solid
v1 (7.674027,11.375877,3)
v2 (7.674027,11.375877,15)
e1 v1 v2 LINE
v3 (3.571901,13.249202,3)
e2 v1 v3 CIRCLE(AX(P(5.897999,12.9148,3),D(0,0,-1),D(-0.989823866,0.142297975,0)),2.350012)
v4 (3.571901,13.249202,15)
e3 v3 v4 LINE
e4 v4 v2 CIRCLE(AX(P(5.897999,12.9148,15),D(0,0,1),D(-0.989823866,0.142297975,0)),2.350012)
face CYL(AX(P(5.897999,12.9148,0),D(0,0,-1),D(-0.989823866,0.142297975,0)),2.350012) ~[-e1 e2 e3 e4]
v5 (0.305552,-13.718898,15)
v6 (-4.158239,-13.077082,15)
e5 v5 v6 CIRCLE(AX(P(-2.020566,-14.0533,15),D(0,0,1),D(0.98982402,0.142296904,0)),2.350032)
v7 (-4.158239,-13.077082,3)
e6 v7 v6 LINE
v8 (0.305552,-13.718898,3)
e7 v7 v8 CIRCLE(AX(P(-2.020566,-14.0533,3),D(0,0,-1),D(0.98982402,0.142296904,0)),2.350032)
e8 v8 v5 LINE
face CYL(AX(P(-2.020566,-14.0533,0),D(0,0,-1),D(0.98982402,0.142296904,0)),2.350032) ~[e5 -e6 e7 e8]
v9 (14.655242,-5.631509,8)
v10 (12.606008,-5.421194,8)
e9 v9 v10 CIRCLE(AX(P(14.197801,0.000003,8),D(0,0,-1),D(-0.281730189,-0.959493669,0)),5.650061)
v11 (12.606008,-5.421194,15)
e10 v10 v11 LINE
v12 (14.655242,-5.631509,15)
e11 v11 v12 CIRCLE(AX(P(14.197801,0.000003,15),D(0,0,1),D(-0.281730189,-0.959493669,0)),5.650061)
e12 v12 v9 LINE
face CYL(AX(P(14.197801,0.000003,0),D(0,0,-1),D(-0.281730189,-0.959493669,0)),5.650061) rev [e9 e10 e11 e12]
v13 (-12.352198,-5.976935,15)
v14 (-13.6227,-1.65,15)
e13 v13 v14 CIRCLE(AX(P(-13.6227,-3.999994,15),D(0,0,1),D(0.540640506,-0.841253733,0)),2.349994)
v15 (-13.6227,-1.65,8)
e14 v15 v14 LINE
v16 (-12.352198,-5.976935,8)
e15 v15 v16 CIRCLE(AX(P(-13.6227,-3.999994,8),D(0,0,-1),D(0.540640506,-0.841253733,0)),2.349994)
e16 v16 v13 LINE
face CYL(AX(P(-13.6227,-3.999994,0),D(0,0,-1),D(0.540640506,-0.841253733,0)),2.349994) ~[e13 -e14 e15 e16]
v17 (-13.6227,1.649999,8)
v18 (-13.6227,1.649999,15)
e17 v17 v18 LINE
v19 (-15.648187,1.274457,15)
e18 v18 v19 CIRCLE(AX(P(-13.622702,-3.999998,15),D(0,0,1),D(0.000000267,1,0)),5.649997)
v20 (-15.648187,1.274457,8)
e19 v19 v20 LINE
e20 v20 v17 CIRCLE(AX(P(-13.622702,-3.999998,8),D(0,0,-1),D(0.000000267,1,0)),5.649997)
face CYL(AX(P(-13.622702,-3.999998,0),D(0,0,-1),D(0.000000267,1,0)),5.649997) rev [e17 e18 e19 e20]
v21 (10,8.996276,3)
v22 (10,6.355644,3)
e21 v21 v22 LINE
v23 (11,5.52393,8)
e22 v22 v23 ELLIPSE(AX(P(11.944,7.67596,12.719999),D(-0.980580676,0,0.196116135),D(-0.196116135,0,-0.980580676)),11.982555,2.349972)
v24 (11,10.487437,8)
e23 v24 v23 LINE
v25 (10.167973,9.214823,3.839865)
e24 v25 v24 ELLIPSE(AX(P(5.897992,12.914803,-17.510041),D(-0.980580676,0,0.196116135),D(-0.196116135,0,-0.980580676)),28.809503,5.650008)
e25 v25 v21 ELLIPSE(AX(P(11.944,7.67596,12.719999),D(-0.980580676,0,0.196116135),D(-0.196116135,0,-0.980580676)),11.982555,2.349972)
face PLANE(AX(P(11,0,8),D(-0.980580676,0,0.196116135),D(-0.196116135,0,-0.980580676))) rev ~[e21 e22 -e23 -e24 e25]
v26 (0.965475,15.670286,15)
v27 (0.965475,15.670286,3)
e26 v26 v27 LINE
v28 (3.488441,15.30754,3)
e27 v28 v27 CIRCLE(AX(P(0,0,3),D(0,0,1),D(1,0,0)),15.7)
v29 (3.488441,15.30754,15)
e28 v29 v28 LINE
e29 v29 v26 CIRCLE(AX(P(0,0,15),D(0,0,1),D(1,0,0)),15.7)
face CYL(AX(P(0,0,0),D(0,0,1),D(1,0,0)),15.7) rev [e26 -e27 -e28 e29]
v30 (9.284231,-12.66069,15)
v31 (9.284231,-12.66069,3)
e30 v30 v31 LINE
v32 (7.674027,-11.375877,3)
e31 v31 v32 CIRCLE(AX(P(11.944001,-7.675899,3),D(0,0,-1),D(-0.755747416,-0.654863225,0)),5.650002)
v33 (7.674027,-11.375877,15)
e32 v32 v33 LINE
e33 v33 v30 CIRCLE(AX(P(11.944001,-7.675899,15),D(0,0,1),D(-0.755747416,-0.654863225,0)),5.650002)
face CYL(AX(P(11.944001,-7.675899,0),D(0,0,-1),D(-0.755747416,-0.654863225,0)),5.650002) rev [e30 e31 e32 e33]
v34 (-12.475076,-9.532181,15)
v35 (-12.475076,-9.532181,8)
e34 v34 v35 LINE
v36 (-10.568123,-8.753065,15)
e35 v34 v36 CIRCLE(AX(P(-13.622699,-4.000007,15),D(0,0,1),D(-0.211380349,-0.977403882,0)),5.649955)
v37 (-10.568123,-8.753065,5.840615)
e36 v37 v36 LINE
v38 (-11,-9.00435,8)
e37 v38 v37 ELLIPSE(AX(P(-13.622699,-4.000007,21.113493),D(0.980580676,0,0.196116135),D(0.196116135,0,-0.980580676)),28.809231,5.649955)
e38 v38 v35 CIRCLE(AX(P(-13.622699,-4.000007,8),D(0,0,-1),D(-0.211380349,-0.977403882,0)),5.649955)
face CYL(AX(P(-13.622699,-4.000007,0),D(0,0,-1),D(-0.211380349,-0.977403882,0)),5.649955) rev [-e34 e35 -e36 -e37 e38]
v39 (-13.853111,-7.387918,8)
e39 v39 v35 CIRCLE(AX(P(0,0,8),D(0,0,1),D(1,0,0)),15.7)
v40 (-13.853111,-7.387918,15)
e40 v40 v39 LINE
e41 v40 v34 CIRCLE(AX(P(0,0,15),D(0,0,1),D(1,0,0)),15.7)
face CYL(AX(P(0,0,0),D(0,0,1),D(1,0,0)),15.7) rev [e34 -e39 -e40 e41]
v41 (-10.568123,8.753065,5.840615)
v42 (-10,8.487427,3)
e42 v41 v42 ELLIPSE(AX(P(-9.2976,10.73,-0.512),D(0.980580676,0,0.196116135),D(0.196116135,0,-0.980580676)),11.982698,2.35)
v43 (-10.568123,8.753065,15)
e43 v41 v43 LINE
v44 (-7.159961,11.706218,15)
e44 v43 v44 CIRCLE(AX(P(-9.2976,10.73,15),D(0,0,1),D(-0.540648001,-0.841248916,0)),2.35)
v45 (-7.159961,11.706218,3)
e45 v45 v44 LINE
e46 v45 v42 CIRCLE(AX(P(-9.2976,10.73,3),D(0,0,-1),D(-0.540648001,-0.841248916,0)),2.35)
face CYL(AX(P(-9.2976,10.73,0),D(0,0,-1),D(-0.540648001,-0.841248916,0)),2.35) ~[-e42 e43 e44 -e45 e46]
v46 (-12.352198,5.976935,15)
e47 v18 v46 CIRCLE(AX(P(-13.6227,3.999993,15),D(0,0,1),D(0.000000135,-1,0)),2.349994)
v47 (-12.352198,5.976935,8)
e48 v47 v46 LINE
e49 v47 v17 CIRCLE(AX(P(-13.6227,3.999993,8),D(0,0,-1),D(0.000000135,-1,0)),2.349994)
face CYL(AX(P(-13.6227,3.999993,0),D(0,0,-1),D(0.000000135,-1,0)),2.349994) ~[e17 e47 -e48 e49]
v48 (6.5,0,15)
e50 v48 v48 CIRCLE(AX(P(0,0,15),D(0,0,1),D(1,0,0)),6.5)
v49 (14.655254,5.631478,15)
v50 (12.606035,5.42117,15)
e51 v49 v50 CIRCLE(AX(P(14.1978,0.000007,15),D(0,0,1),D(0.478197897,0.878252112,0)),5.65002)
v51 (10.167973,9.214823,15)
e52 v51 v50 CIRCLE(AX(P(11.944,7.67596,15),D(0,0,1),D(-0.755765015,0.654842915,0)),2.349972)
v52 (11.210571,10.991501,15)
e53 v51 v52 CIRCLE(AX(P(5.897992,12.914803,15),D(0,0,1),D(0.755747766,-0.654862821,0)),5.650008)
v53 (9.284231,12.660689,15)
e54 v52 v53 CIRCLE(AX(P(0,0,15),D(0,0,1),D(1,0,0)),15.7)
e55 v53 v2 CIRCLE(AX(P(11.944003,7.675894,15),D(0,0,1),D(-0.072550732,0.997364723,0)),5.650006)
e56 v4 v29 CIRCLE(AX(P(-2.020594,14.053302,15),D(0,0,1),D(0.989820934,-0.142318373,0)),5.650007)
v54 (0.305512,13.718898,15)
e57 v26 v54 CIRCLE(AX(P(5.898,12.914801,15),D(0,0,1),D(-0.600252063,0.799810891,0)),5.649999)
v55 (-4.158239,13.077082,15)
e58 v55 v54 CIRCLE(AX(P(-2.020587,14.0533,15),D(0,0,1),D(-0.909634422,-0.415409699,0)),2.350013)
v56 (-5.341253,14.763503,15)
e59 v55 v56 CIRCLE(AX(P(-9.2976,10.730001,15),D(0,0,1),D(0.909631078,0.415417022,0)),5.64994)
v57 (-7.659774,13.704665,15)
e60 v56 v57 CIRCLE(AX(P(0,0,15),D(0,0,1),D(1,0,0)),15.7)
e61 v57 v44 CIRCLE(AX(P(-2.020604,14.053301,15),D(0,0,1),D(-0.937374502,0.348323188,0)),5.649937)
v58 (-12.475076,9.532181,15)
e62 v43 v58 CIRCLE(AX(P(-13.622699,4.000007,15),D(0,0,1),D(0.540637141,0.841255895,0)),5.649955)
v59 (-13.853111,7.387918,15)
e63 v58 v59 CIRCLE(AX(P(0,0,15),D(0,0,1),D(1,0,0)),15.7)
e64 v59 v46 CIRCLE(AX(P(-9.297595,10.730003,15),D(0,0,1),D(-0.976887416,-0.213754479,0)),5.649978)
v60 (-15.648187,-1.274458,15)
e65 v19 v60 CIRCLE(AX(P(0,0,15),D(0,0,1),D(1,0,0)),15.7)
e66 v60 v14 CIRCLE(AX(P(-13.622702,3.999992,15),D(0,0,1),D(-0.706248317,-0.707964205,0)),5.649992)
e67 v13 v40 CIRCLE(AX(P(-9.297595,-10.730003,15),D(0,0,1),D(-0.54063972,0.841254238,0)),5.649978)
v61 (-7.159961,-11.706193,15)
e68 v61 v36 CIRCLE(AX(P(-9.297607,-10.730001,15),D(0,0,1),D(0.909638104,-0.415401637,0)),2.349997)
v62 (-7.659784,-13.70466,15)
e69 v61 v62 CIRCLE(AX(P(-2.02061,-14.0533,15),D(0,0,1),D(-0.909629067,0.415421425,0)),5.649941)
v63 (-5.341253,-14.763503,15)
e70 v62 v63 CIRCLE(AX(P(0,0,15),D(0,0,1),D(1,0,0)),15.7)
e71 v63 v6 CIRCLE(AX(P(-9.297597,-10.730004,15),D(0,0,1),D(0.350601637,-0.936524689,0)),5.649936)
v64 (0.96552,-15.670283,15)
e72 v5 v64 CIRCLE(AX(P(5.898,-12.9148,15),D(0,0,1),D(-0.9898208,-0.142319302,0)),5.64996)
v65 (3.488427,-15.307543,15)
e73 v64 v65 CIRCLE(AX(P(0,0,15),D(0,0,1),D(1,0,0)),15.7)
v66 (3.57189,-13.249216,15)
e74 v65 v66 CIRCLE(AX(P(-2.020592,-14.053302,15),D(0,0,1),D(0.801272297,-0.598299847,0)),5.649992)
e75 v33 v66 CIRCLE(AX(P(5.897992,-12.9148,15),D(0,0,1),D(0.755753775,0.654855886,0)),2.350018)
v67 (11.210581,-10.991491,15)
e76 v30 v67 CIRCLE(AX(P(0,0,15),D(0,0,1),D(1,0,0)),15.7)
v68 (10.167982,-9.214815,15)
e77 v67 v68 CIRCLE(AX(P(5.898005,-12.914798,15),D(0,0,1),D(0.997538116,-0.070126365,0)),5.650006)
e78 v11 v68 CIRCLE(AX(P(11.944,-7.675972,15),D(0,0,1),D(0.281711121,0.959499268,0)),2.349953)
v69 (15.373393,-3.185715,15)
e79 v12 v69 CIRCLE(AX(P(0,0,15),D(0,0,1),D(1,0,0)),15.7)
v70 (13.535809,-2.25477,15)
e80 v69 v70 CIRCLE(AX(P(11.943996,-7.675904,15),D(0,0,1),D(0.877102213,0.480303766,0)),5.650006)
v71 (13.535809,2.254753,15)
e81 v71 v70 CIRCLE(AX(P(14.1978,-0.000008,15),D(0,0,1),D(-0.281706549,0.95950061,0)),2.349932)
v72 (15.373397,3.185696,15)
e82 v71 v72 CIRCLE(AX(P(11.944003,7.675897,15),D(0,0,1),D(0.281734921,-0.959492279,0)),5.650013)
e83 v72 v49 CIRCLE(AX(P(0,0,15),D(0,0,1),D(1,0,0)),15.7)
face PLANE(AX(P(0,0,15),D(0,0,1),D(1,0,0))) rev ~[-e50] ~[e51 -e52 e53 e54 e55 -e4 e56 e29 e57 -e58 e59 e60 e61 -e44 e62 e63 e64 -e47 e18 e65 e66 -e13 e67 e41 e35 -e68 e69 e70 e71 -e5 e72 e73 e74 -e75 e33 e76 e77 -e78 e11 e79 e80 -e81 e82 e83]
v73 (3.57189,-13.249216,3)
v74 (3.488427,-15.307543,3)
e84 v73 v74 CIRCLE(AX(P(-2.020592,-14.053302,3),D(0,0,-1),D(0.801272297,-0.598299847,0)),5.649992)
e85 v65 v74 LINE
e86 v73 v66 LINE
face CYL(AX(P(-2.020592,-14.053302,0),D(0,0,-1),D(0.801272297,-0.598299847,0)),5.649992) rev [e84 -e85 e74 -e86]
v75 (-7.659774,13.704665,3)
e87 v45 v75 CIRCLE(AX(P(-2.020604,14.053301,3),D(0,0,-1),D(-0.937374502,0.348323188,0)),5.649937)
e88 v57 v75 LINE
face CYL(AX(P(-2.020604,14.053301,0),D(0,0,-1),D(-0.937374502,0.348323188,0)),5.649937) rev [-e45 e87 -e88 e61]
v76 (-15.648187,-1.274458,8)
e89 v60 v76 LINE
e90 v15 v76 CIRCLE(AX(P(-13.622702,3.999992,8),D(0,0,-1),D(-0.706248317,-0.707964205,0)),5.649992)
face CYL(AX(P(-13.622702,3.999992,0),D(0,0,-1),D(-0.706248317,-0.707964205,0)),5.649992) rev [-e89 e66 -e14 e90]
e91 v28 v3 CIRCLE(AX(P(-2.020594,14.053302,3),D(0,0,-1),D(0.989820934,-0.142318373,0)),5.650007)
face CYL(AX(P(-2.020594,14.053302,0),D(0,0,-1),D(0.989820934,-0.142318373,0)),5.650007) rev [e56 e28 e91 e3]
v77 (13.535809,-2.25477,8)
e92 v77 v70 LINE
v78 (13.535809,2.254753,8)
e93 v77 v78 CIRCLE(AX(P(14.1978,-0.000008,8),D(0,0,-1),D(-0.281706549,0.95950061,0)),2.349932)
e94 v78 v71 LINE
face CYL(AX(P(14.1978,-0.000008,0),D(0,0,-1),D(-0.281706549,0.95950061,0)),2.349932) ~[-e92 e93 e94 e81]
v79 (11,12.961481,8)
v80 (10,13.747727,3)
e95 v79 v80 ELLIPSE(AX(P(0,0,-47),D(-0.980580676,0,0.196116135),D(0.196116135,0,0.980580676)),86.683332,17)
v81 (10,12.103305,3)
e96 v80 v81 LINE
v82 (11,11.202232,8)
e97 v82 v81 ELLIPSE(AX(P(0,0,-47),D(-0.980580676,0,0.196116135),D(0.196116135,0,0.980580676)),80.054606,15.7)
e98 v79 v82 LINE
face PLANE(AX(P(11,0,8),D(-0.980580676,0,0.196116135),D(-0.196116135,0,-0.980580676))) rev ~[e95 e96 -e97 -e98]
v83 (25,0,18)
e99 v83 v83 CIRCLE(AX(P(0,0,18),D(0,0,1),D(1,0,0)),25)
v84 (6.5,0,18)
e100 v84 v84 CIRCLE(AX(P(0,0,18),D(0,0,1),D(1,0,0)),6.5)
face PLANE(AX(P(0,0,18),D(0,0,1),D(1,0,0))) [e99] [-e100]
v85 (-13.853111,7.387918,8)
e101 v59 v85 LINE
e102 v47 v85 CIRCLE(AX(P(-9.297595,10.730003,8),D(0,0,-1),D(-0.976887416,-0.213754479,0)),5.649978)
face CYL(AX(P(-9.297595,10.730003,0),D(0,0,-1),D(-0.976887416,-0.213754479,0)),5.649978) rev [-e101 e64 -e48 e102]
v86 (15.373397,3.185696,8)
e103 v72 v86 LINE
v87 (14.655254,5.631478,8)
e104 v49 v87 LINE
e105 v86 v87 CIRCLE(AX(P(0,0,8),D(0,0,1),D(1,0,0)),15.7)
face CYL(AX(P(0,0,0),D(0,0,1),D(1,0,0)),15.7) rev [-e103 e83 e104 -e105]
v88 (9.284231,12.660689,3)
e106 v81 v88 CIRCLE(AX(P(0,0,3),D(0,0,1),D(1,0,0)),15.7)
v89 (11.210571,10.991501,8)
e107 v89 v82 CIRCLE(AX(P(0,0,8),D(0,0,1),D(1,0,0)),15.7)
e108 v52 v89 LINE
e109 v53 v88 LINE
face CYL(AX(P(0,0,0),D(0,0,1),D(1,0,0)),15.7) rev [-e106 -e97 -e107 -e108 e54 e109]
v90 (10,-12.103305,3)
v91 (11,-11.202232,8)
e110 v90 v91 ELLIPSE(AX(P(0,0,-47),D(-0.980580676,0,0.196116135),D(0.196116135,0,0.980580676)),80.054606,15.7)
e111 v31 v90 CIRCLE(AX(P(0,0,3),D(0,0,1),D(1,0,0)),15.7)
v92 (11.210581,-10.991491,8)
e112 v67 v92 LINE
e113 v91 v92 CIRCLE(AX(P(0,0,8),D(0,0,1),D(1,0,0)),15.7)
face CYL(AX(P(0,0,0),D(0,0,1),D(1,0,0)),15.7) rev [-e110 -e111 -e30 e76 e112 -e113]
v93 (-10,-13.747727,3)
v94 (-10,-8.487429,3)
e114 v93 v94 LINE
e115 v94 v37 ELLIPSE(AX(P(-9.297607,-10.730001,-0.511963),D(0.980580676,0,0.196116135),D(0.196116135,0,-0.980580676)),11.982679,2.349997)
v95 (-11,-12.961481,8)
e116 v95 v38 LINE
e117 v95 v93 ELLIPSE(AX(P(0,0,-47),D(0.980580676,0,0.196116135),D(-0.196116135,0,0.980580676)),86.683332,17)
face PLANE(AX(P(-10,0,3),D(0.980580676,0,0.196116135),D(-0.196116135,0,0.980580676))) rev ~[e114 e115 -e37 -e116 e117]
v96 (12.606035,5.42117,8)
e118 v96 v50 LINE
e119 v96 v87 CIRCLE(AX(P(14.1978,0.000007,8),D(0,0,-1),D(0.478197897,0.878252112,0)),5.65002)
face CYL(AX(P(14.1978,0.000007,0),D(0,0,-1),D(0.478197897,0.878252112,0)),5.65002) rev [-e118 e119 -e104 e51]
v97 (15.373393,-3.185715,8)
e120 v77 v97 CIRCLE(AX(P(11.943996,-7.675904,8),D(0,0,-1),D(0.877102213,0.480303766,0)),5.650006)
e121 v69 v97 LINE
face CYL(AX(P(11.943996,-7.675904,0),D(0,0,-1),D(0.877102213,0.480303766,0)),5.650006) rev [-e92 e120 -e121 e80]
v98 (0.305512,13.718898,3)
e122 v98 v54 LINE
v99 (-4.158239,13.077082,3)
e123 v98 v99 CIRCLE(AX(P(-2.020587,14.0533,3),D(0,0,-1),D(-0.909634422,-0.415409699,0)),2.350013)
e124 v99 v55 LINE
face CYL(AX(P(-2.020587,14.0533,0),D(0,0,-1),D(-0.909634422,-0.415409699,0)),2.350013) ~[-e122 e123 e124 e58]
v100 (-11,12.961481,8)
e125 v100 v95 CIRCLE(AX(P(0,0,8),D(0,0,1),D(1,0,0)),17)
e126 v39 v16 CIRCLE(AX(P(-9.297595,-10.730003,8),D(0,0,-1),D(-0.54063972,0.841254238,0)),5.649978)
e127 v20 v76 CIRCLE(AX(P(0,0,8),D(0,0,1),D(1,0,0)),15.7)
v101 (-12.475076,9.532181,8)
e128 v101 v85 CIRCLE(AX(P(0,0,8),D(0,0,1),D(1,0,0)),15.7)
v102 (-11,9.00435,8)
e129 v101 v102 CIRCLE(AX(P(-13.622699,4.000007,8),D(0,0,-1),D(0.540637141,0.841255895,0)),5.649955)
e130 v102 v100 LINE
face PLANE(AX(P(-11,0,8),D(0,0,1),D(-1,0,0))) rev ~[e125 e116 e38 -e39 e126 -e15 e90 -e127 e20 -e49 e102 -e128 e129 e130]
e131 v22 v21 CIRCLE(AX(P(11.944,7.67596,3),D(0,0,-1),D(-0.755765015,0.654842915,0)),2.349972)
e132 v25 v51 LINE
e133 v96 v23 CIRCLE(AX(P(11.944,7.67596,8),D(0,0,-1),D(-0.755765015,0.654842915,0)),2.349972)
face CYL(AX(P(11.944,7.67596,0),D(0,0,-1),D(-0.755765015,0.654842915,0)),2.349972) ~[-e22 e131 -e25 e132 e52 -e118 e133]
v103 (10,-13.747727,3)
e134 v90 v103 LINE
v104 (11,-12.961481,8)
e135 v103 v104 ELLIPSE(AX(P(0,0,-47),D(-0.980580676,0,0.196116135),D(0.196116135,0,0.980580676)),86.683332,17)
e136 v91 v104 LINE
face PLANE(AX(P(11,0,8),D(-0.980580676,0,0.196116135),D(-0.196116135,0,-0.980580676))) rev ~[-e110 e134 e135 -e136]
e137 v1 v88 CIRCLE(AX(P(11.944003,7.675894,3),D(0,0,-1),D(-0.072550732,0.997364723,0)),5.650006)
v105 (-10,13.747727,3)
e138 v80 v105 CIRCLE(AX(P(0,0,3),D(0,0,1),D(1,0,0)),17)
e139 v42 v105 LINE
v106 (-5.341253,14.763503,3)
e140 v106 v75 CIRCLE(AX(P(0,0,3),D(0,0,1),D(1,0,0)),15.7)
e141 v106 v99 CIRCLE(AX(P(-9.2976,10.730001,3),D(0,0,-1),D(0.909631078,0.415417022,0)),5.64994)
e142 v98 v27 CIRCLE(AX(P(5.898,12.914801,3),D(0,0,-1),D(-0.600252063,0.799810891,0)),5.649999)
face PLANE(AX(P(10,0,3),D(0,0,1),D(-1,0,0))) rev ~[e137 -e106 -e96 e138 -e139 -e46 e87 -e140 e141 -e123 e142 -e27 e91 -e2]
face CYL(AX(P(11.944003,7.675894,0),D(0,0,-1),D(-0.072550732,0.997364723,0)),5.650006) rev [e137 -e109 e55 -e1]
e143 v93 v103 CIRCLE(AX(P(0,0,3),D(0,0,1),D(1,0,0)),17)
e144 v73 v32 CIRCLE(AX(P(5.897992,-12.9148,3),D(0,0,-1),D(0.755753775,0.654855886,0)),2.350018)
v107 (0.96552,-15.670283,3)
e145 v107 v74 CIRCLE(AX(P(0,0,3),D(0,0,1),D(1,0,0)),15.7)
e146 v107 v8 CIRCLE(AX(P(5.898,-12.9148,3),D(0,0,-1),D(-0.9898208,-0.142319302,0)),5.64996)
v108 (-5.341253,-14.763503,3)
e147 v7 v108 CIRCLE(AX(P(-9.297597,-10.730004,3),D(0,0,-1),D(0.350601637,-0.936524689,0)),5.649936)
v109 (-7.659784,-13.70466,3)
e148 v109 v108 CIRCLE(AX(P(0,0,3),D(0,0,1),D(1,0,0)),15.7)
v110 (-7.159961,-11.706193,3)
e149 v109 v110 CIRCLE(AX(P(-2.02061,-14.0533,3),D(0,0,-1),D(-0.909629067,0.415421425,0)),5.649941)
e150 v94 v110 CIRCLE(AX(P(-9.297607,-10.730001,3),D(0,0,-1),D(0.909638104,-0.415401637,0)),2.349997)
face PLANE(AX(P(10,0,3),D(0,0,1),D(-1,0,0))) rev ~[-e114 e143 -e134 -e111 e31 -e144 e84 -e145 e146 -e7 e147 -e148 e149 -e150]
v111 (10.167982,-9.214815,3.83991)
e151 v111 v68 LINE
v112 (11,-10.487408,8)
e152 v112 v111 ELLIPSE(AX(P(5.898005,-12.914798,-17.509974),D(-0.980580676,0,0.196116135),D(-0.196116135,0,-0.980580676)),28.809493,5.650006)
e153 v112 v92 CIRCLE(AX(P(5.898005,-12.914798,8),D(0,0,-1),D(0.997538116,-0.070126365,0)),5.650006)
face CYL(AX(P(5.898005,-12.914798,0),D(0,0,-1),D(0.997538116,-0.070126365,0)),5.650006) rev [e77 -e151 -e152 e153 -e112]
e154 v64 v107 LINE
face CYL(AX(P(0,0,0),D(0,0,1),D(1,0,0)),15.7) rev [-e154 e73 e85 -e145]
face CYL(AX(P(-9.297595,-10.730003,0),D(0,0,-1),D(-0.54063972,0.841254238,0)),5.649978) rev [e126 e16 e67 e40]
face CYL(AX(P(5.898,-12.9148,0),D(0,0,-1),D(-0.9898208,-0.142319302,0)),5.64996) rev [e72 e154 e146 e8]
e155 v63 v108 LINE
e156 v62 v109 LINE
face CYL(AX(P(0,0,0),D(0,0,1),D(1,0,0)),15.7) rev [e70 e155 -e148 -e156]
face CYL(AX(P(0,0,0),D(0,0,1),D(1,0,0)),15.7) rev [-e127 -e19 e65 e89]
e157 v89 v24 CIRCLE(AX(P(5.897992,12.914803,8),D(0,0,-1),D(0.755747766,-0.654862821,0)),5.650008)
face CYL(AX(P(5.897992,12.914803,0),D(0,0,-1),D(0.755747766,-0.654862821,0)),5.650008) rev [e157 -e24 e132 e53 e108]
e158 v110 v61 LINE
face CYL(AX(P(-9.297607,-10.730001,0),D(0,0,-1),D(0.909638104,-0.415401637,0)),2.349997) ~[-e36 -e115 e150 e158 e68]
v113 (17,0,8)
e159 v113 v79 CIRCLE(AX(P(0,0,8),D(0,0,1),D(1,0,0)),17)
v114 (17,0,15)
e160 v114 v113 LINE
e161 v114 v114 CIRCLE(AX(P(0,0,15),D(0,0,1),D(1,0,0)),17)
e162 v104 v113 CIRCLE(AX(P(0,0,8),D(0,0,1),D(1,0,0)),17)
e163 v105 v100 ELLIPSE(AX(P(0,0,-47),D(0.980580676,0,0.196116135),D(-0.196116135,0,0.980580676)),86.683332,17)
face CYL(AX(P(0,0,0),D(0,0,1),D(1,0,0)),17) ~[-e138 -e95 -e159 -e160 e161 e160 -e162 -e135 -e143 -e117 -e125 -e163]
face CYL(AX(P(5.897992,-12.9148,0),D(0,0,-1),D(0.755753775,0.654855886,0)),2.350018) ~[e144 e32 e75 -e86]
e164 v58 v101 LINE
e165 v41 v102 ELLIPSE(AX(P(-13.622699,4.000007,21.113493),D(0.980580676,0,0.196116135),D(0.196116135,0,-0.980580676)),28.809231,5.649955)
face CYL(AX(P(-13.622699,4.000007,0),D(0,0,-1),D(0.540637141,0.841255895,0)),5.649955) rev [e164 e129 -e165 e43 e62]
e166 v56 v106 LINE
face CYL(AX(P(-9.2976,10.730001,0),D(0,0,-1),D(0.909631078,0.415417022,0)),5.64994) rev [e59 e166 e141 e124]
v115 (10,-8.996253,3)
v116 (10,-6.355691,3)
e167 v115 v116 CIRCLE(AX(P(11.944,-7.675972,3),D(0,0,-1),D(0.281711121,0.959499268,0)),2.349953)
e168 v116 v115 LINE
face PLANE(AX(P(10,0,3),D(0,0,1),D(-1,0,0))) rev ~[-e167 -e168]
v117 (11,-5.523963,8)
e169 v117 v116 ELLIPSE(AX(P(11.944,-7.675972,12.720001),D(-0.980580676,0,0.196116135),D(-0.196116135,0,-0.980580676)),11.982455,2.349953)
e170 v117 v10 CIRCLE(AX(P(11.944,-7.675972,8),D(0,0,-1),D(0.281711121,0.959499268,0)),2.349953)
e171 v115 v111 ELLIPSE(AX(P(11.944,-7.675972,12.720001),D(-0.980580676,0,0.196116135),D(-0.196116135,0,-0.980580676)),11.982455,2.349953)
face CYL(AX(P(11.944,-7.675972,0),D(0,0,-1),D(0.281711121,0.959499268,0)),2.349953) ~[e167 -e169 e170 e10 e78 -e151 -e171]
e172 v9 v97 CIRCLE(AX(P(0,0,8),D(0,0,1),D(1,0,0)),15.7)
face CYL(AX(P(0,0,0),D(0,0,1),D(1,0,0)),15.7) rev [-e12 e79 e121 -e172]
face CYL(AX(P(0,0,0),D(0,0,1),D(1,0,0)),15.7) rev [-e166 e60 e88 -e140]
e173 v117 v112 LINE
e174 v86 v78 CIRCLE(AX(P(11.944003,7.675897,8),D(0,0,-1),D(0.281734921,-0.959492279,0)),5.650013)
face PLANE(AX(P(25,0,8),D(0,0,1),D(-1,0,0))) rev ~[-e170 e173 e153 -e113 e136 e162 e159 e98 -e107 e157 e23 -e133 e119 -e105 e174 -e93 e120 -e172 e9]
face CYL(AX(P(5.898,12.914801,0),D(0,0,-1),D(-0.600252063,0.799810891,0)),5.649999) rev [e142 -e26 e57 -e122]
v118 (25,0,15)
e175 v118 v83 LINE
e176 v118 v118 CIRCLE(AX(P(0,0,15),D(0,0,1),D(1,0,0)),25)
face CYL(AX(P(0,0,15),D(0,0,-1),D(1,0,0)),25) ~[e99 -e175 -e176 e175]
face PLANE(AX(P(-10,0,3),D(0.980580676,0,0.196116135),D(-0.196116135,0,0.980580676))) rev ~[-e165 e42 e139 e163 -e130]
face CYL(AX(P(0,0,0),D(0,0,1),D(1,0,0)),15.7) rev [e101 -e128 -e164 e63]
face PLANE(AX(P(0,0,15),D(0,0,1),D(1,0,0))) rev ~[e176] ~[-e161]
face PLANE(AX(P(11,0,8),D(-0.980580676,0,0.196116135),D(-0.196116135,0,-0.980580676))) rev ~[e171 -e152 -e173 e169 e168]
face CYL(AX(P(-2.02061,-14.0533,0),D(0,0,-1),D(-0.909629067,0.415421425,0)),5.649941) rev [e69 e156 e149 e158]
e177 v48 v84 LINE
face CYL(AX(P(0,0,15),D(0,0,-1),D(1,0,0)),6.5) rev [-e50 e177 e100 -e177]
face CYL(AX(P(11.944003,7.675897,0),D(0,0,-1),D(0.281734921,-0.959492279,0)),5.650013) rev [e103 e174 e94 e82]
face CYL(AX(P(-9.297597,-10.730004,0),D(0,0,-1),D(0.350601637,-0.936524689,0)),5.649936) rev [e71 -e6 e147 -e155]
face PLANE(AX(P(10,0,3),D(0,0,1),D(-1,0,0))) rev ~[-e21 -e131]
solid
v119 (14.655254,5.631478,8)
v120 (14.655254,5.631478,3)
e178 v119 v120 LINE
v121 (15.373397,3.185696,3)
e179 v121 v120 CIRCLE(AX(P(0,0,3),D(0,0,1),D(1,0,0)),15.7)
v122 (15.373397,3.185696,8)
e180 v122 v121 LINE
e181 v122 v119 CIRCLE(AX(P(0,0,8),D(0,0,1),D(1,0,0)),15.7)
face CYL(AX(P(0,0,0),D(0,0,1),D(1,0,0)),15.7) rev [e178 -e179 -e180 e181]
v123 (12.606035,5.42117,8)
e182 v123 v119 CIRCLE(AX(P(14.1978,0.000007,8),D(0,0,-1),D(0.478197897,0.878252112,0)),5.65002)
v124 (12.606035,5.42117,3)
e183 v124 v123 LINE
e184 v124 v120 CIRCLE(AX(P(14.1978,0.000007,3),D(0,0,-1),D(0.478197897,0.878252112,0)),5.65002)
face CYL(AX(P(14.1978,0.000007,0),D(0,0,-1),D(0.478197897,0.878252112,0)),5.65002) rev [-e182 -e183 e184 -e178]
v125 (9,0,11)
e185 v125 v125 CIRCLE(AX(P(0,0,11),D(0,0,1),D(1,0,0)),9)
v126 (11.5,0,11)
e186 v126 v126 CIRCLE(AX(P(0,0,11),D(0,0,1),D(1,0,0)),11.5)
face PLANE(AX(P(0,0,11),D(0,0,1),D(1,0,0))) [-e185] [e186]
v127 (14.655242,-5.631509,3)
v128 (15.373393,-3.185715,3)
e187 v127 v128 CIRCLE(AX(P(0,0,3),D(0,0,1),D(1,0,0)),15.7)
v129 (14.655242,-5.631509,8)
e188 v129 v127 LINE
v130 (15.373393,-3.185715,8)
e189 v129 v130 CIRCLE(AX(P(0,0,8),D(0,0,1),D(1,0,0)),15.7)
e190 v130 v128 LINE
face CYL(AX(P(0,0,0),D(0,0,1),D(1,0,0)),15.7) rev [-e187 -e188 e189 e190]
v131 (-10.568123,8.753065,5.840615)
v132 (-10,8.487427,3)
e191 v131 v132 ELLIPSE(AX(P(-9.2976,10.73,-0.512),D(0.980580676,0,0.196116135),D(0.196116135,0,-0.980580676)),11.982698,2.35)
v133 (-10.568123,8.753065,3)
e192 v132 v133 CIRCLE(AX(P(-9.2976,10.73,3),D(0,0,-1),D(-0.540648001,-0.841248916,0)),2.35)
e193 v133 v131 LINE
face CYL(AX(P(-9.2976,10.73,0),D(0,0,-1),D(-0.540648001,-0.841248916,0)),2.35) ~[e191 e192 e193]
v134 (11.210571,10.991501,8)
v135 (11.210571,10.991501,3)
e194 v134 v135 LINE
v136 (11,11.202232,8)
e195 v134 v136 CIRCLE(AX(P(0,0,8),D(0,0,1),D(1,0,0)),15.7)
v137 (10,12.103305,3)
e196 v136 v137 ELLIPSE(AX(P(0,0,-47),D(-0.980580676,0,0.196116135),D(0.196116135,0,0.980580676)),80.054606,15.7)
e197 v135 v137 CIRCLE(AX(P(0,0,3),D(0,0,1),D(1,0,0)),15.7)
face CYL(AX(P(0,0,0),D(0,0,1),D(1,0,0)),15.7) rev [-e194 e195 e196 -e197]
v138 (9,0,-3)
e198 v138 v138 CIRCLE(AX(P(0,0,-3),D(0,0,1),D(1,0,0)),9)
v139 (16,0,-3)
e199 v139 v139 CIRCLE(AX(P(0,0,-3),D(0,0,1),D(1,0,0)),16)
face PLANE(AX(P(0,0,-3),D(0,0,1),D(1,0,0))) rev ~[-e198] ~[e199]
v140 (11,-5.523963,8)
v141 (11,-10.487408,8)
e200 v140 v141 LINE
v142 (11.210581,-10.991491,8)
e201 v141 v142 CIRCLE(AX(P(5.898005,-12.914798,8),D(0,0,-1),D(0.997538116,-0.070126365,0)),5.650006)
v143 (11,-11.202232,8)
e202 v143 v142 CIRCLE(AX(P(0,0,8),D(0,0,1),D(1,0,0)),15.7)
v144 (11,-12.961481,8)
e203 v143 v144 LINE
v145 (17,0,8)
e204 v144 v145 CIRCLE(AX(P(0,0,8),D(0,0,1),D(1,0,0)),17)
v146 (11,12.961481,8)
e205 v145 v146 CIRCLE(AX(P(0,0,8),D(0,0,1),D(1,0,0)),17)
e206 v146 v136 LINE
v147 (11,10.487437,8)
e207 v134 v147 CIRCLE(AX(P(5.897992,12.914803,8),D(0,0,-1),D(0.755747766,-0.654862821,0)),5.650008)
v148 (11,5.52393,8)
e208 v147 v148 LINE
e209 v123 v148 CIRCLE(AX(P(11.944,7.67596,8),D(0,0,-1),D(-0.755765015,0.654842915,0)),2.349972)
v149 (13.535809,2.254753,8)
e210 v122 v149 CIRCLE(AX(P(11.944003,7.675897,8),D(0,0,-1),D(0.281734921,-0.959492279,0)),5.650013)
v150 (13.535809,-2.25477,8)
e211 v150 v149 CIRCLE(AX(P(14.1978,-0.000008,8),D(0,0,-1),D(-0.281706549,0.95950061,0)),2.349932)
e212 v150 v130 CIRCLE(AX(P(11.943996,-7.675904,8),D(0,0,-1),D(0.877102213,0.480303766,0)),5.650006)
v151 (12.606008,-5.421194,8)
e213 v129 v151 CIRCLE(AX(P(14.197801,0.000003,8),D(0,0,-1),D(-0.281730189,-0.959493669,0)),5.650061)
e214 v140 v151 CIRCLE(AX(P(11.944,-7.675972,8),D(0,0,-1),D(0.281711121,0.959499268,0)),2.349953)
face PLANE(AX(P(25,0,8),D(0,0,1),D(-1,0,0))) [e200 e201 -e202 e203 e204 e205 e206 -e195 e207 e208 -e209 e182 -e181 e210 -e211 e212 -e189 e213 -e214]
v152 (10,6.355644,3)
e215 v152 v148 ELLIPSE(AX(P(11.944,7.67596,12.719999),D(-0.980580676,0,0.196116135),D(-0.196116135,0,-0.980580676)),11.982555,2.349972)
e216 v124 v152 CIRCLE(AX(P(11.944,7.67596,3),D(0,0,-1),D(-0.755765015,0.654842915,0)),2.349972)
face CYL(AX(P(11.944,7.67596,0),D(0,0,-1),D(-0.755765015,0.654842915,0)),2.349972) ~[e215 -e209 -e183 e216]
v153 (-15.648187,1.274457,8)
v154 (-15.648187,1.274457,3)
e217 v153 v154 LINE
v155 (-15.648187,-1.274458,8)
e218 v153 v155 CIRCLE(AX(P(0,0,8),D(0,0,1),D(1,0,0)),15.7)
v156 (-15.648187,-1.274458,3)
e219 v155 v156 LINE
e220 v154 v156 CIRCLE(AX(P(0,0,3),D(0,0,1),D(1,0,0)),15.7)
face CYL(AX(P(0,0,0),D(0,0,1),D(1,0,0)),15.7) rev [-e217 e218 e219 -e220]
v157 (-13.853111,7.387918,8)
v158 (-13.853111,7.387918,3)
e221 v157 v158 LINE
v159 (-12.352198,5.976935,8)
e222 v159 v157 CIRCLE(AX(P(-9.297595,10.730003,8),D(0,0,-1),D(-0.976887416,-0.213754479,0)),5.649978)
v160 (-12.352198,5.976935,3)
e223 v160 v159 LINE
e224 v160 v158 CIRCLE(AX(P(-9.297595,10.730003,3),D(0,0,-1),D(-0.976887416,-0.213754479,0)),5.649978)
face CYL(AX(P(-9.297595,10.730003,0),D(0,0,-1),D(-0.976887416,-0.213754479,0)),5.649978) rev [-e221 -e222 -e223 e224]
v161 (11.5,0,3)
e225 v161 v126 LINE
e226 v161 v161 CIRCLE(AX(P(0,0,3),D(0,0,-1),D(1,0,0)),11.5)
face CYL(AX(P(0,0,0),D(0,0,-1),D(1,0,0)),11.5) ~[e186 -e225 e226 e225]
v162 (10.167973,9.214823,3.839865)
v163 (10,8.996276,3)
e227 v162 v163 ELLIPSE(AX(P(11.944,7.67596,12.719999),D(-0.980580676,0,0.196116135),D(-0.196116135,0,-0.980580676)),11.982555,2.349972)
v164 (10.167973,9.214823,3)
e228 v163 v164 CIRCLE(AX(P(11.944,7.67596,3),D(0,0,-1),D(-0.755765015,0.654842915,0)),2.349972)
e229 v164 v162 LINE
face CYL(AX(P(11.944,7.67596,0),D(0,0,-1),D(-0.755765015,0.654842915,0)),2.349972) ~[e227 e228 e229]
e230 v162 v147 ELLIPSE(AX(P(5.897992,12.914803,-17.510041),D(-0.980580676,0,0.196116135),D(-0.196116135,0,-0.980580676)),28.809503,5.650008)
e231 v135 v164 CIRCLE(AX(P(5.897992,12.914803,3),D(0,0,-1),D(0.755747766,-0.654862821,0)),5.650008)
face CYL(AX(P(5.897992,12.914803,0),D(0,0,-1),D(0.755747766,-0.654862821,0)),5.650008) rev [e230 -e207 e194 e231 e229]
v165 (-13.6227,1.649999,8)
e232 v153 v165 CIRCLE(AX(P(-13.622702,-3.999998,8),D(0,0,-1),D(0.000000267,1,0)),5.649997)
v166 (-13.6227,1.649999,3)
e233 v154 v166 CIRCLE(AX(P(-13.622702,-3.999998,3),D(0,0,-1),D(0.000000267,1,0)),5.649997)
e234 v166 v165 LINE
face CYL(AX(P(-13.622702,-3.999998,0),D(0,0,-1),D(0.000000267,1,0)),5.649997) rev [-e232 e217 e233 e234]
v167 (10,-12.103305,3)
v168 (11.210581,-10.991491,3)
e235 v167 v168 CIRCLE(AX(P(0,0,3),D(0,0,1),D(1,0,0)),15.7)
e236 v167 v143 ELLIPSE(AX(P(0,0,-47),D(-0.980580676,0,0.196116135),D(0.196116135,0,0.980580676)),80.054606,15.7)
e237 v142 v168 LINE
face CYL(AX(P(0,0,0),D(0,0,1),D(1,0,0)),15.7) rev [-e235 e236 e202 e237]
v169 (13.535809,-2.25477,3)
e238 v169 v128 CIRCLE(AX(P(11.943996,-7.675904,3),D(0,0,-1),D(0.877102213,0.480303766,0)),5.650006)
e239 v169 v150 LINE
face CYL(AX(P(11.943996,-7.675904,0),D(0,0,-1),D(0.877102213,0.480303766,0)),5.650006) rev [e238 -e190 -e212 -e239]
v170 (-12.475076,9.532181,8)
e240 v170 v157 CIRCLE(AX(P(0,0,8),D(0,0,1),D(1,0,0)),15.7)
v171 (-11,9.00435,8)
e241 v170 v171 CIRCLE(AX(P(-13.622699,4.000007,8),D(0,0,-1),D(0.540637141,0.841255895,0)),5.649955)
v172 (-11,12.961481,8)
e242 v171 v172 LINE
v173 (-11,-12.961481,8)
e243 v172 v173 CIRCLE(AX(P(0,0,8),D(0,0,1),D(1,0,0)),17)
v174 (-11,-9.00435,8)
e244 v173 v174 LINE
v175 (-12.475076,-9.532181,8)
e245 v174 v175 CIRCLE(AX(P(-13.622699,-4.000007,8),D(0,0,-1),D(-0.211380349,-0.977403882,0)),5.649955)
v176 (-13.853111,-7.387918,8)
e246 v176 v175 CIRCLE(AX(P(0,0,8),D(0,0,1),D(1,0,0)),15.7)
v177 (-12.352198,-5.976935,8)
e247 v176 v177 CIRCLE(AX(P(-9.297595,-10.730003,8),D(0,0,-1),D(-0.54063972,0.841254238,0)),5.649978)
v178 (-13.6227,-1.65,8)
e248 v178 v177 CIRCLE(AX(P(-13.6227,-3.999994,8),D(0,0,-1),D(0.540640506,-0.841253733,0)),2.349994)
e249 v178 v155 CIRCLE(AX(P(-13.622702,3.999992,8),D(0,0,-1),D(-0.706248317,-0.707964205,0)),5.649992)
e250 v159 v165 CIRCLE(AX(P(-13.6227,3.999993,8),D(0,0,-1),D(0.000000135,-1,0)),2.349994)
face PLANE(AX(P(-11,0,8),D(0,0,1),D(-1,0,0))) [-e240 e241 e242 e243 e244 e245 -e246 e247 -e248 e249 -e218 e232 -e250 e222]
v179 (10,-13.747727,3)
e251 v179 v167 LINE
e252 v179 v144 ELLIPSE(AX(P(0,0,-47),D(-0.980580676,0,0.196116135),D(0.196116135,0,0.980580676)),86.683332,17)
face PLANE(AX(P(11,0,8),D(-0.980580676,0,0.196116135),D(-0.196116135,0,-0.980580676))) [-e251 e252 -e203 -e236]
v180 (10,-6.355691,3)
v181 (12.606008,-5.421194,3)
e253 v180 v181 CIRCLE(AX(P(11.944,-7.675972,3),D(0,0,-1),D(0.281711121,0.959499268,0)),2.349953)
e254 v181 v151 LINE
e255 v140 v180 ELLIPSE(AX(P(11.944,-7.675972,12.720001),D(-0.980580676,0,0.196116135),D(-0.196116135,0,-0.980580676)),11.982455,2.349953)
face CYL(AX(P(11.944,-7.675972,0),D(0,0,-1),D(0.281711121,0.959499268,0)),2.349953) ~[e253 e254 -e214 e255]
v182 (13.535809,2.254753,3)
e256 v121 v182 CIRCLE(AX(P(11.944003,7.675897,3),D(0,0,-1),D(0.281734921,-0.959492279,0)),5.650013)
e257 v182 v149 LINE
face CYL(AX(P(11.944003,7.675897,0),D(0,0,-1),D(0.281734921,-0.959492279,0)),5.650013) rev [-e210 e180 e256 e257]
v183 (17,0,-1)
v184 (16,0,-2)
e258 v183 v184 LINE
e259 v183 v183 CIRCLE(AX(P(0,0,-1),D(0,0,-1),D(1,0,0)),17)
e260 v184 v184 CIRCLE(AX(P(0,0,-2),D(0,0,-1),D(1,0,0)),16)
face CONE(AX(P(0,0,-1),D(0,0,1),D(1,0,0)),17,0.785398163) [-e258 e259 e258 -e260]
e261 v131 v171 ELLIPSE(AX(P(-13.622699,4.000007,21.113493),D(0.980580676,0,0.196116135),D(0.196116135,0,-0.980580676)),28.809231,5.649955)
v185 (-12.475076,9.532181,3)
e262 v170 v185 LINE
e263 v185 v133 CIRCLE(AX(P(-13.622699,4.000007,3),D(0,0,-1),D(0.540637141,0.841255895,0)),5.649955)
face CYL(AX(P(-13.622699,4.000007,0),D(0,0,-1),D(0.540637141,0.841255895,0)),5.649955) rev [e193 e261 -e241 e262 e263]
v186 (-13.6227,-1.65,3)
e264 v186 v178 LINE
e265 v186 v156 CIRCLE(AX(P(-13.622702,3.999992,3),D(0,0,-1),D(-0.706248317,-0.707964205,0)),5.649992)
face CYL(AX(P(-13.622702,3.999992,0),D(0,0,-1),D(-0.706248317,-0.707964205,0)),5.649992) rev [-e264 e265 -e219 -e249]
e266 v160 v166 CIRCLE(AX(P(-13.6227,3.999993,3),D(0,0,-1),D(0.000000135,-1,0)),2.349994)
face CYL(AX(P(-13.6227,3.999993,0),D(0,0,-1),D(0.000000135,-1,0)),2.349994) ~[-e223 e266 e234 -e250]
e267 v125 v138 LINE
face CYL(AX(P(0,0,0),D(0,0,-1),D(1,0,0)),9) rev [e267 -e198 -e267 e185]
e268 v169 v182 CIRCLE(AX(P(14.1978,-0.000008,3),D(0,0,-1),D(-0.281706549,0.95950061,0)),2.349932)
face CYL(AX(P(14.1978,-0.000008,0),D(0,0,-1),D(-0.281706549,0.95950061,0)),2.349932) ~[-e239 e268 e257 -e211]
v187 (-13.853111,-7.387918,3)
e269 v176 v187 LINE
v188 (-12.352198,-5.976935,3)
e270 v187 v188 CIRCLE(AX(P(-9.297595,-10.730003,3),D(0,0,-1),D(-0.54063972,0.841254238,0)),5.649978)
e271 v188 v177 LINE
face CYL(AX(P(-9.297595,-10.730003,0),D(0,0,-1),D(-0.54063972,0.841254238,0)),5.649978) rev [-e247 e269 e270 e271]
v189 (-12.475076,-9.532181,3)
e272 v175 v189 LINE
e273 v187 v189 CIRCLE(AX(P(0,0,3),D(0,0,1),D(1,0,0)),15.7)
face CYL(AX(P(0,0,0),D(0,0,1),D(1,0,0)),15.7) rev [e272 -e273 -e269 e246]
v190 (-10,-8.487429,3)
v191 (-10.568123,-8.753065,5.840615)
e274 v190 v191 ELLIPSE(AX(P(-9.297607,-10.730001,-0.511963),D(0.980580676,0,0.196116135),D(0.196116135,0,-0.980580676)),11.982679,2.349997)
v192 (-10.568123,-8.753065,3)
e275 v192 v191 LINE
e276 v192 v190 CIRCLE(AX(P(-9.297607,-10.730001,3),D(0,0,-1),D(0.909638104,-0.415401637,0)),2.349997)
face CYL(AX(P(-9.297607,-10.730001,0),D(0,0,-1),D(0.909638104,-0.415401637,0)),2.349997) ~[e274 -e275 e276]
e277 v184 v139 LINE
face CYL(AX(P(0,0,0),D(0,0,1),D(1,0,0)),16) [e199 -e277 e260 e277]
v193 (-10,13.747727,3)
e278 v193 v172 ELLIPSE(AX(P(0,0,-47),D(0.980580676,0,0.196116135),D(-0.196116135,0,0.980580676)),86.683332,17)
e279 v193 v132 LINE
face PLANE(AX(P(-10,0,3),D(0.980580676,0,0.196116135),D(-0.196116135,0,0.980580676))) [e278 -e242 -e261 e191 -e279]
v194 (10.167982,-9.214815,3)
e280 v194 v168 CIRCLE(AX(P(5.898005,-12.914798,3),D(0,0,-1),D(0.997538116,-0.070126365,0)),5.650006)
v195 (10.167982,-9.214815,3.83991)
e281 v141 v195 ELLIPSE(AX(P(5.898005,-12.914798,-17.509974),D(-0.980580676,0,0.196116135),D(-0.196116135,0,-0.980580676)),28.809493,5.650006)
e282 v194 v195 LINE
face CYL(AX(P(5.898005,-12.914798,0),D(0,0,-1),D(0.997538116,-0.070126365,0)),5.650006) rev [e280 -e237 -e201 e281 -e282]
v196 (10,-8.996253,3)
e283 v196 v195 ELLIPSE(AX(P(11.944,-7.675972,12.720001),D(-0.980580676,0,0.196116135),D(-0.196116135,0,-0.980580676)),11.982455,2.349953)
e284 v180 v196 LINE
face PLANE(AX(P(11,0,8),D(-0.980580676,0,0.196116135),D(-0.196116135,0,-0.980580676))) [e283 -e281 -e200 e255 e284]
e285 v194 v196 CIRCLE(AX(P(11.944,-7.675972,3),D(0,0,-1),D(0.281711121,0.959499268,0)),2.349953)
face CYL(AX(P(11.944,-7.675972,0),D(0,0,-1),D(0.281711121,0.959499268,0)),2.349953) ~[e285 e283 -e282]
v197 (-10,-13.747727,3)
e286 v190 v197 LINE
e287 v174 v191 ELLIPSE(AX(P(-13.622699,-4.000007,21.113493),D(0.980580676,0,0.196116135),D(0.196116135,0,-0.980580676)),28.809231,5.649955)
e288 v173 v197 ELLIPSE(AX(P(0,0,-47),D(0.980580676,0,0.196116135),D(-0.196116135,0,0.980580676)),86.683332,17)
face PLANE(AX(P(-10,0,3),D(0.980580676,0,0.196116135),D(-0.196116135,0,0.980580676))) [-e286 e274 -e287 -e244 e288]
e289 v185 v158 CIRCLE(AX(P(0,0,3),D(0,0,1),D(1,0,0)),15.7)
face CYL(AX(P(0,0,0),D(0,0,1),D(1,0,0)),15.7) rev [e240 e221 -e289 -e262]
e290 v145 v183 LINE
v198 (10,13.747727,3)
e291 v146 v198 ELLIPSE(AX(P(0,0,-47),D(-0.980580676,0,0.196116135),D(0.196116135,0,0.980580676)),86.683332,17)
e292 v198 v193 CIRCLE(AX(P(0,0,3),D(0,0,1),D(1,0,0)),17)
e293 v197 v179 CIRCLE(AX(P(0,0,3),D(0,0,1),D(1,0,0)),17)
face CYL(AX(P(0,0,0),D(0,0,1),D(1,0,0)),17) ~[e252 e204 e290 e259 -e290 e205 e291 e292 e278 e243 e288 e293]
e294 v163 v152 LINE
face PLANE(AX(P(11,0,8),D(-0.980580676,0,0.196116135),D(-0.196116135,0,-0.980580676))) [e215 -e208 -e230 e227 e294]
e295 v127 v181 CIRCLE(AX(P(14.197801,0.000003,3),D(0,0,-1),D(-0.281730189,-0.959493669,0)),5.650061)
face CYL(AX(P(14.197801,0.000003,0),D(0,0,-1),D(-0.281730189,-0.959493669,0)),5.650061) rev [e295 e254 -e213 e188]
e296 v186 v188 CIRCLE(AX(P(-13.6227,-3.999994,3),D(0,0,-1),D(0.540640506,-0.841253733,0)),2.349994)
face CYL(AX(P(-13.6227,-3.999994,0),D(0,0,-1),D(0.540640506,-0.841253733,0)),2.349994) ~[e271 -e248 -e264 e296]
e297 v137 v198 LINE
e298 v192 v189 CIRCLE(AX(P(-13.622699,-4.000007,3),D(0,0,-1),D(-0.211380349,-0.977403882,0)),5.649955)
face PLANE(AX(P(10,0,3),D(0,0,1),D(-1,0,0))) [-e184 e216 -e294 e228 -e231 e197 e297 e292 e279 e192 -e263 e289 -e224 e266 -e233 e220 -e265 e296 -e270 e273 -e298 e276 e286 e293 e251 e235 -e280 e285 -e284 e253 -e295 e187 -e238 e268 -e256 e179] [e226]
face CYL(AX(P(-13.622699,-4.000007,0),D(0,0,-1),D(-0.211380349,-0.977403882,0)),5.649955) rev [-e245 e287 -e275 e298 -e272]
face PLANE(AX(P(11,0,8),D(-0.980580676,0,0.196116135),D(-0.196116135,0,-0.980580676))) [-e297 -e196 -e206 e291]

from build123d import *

# Parameters (mm, degrees)
PAD004_DEPTH      = 20
PAD004_DEPTH_BACK = 20
SKETCH_R          = 20
PAD_DEPTH         = 15
SKETCH001_R       = 20
SKETCH001_R_2     = 15.7
PAD001_DEPTH      = 15
SKETCH002_R       = 20
SKETCH002_R_2     = 17
POCKET_DEPTH      = 15
SKETCH003_R       = 25
SKETCH003_R_2     = 6.5
PAD002_DEPTH      = 3
SKETCH004_R       = 17
SKETCH004_R_2     = 15.7
PAD003_DEPTH      = 2
CHAMFER_SIZE      = 1
SKETCH006_R       = 16
SKETCH006_R_2     = 9
PAD005_DEPTH      = 3
SKETCH007_R       = 11.5
SKETCH007_R_2     = 9
PAD006_DEPTH      = 11
SKETCH008_R       = 16
SKETCH008_R_2     = 9
PAD007_DEPTH      = 3


with BuildPart() as body001:
    # Sketch005 → Pad004 (new body, two sides)
    with BuildSketch(Plane.XZ) as pad004_sk:
        Polygon((-25, 8), (-25, -3), (25, -3), (25, 8), (11, 8), (10, 3), (-10, 3), (-11, 8), align=None)
    extrude(amount=PAD004_DEPTH)
    extrude(pad004_sk.sketch, amount=-PAD004_DEPTH_BACK)


with BuildPart() as body:
    # Sketch → Pad (new body)
    with BuildSketch(Plane.XY):
        Circle(SKETCH_R)
        with BuildLine():
            ThreePointArc((10.167973, 9.214823), (11.257777, 11.127264), (11.534091, 13.311011))
            ThreePointArc((11.534091, 13.311011), (9.411904, 12.72674), (7.674027, 11.375877))
            ThreePointArc((3.571901, 13.249202), (4.921792, 10.777143), (7.674027, 11.375877))
            ThreePointArc((3.571901, 13.249202), (3.454758, 15.447252), (2.506576, 17.433732))
            ThreePointArc((2.506576, 17.433732), (1.03717, 15.794875), (0.305512, 13.718898))
            ThreePointArc((-4.158239, 13.077082), (-1.686132, 11.727209), (0.305512, 13.718898))
            ThreePointArc((-4.158239, 13.077082), (-5.44512, 14.862823), (-7.316711, 16.021305))
            ThreePointArc((-7.316711, 16.021305), (-7.666817, 13.848196), (-7.159961, 11.706218))
            ThreePointArc((-10.568123, 8.753065), (-7.758688, 8.953979), (-7.159961, 11.706218))
            ThreePointArc((-10.568123, 8.753065), (-12.616172, 9.559584), (-14.816988, 9.522295))
            ThreePointArc((-14.816988, 9.522295), (-13.936641, 7.504866), (-12.352198, 5.976935))
            ThreePointArc((-13.6227, 1.649999), (-11.367897, 3.337924), (-12.352198, 5.976935))
            ThreePointArc((-13.6227, 1.649999), (-15.781693, 1.22123), (-17.613, 0))
            ThreePointArc((-17.613, 0), (-15.781693, -1.221231), (-13.6227, -1.65))
            ThreePointArc((-12.352198, -5.976935), (-11.367897, -3.337925), (-13.6227, -1.65))
            ThreePointArc((-12.352198, -5.976935), (-13.936641, -7.504866), (-14.816988, -9.522295))
            ThreePointArc((-14.816988, -9.522295), (-12.616172, -9.559584), (-10.568123, -8.753065))
            ThreePointArc((-7.159961, -11.706193), (-7.758705, -8.953976), (-10.568123, -8.753065))
            ThreePointArc((-7.159961, -11.706193), (-7.666827, -13.848185), (-7.31672, -16.021308))
            ThreePointArc((-7.31672, -16.021308), (-5.445123, -14.862826), (-4.158239, -13.077082))
            ThreePointArc((0.305552, -13.718898), (-1.686111, -11.72719), (-4.158239, -13.077082))
            ThreePointArc((0.305552, -13.718898), (1.037203, -15.794852), (2.50659, -17.433692))
            ThreePointArc((2.50659, -17.433692), (3.454749, -15.447236), (3.57189, -13.249216))
            ThreePointArc((7.674027, -11.375877), (4.921778, -10.77714), (3.57189, -13.249216))
            ThreePointArc((7.674027, -11.375877), (9.411909, -12.726743), (11.534102, -13.311012))
            ThreePointArc((11.534102, -13.311012), (11.257789, -11.12726), (10.167982, -9.214815))
            ThreePointArc((12.606008, -5.421194), (9.967097, -6.405487), (10.167982, -9.214815))
            ThreePointArc((12.606008, -5.421194), (14.798398, -5.618045), (16.899628, -4.962185))
            ThreePointArc((16.899628, -4.962185), (15.486563, -3.274452), (13.535809, -2.25477))
            ThreePointArc((13.535809, 2.254753), (11.847868, -9e-06), (13.535809, -2.25477))
            ThreePointArc((13.535809, 2.254753), (15.48656, 3.274427), (16.899628, 4.962149))
            ThreePointArc((16.899628, 4.962149), (14.798412, 5.618013), (12.606035, 5.42117))
            ThreePointArc((10.167973, 9.214823), (9.967084, 6.405459), (12.606035, 5.42117))
        make_face(mode=Mode.SUBTRACT)
    extrude(amount=PAD_DEPTH)

    # Sketch001 (on Face36 of Pad) → Pad001 (join)
    with BuildSketch(Plane.XY.offset(15)):
        Circle(SKETCH001_R)
        Circle(SKETCH001_R_2, mode=Mode.SUBTRACT)
    extrude(amount=-PAD001_DEPTH)

    # Sketch002 (on Face3 of Pad001) → Pocket (cut)
    with BuildSketch(Plane.XY.offset(15)):
        Circle(SKETCH002_R)
        Circle(SKETCH002_R_2, mode=Mode.SUBTRACT)
    extrude(amount=-POCKET_DEPTH, mode=Mode.SUBTRACT)

    # Sketch003 (on Face60 of Pocket) → Pad002 (join)
    with BuildSketch(Plane.XY.offset(15)):
        Circle(SKETCH003_R)
        Circle(SKETCH003_R_2, mode=Mode.SUBTRACT)
    extrude(amount=PAD002_DEPTH)

    # Sketch004 (on Face49 of Pad002) → Pad003 (join)
    with BuildSketch(Plane(origin=(0, 0, 0), x_dir=(1, 0, 0), z_dir=(0, 0, -1))):
        Circle(SKETCH004_R)
        Circle(SKETCH004_R_2, mode=Mode.SUBTRACT)
    extrude(amount=PAD003_DEPTH)

    # Chamfer
    chamfer_edges = [body.edges().sort_by_distance(p)[0] for p in [
        (-17, 0, -2),
    ]]
    chamfer(chamfer_edges, length=CHAMFER_SIZE)


with BuildPart() as cut:
    # Cut base: copy of Body
    add(body.part)

    # Cut: cut Body001
    add(body001.part, mode=Mode.SUBTRACT)


with BuildPart() as body002:
    # Sketch006 → Pad005 (new body)
    with BuildSketch(Plane.XY):
        Circle(SKETCH006_R)
        Circle(SKETCH006_R_2, mode=Mode.SUBTRACT)
    extrude(amount=-PAD005_DEPTH)

    # Sketch007 (on Face3 of Pad005) → Pad006 (join)
    with BuildSketch(Plane.XY):
        Circle(SKETCH007_R)
        Circle(SKETCH007_R_2, mode=Mode.SUBTRACT)
    extrude(amount=PAD006_DEPTH)

    # Sketch008 (on Face2 of Pad006) → Pad007 (join)
    with BuildSketch(Plane.XY):
        Circle(SKETCH008_R)
        Circle(SKETCH008_R_2, mode=Mode.SUBTRACT)
    extrude(amount=PAD007_DEPTH)


with BuildPart() as fusion:
    # Common base: copy of Body
    add(body.part)

    # Common: intersect Body001
    add(body001.part, mode=Mode.INTERSECT)

    # Fusion: union Body002
    add(body002.part)


solid = Compound([cut.part, fusion.part])
